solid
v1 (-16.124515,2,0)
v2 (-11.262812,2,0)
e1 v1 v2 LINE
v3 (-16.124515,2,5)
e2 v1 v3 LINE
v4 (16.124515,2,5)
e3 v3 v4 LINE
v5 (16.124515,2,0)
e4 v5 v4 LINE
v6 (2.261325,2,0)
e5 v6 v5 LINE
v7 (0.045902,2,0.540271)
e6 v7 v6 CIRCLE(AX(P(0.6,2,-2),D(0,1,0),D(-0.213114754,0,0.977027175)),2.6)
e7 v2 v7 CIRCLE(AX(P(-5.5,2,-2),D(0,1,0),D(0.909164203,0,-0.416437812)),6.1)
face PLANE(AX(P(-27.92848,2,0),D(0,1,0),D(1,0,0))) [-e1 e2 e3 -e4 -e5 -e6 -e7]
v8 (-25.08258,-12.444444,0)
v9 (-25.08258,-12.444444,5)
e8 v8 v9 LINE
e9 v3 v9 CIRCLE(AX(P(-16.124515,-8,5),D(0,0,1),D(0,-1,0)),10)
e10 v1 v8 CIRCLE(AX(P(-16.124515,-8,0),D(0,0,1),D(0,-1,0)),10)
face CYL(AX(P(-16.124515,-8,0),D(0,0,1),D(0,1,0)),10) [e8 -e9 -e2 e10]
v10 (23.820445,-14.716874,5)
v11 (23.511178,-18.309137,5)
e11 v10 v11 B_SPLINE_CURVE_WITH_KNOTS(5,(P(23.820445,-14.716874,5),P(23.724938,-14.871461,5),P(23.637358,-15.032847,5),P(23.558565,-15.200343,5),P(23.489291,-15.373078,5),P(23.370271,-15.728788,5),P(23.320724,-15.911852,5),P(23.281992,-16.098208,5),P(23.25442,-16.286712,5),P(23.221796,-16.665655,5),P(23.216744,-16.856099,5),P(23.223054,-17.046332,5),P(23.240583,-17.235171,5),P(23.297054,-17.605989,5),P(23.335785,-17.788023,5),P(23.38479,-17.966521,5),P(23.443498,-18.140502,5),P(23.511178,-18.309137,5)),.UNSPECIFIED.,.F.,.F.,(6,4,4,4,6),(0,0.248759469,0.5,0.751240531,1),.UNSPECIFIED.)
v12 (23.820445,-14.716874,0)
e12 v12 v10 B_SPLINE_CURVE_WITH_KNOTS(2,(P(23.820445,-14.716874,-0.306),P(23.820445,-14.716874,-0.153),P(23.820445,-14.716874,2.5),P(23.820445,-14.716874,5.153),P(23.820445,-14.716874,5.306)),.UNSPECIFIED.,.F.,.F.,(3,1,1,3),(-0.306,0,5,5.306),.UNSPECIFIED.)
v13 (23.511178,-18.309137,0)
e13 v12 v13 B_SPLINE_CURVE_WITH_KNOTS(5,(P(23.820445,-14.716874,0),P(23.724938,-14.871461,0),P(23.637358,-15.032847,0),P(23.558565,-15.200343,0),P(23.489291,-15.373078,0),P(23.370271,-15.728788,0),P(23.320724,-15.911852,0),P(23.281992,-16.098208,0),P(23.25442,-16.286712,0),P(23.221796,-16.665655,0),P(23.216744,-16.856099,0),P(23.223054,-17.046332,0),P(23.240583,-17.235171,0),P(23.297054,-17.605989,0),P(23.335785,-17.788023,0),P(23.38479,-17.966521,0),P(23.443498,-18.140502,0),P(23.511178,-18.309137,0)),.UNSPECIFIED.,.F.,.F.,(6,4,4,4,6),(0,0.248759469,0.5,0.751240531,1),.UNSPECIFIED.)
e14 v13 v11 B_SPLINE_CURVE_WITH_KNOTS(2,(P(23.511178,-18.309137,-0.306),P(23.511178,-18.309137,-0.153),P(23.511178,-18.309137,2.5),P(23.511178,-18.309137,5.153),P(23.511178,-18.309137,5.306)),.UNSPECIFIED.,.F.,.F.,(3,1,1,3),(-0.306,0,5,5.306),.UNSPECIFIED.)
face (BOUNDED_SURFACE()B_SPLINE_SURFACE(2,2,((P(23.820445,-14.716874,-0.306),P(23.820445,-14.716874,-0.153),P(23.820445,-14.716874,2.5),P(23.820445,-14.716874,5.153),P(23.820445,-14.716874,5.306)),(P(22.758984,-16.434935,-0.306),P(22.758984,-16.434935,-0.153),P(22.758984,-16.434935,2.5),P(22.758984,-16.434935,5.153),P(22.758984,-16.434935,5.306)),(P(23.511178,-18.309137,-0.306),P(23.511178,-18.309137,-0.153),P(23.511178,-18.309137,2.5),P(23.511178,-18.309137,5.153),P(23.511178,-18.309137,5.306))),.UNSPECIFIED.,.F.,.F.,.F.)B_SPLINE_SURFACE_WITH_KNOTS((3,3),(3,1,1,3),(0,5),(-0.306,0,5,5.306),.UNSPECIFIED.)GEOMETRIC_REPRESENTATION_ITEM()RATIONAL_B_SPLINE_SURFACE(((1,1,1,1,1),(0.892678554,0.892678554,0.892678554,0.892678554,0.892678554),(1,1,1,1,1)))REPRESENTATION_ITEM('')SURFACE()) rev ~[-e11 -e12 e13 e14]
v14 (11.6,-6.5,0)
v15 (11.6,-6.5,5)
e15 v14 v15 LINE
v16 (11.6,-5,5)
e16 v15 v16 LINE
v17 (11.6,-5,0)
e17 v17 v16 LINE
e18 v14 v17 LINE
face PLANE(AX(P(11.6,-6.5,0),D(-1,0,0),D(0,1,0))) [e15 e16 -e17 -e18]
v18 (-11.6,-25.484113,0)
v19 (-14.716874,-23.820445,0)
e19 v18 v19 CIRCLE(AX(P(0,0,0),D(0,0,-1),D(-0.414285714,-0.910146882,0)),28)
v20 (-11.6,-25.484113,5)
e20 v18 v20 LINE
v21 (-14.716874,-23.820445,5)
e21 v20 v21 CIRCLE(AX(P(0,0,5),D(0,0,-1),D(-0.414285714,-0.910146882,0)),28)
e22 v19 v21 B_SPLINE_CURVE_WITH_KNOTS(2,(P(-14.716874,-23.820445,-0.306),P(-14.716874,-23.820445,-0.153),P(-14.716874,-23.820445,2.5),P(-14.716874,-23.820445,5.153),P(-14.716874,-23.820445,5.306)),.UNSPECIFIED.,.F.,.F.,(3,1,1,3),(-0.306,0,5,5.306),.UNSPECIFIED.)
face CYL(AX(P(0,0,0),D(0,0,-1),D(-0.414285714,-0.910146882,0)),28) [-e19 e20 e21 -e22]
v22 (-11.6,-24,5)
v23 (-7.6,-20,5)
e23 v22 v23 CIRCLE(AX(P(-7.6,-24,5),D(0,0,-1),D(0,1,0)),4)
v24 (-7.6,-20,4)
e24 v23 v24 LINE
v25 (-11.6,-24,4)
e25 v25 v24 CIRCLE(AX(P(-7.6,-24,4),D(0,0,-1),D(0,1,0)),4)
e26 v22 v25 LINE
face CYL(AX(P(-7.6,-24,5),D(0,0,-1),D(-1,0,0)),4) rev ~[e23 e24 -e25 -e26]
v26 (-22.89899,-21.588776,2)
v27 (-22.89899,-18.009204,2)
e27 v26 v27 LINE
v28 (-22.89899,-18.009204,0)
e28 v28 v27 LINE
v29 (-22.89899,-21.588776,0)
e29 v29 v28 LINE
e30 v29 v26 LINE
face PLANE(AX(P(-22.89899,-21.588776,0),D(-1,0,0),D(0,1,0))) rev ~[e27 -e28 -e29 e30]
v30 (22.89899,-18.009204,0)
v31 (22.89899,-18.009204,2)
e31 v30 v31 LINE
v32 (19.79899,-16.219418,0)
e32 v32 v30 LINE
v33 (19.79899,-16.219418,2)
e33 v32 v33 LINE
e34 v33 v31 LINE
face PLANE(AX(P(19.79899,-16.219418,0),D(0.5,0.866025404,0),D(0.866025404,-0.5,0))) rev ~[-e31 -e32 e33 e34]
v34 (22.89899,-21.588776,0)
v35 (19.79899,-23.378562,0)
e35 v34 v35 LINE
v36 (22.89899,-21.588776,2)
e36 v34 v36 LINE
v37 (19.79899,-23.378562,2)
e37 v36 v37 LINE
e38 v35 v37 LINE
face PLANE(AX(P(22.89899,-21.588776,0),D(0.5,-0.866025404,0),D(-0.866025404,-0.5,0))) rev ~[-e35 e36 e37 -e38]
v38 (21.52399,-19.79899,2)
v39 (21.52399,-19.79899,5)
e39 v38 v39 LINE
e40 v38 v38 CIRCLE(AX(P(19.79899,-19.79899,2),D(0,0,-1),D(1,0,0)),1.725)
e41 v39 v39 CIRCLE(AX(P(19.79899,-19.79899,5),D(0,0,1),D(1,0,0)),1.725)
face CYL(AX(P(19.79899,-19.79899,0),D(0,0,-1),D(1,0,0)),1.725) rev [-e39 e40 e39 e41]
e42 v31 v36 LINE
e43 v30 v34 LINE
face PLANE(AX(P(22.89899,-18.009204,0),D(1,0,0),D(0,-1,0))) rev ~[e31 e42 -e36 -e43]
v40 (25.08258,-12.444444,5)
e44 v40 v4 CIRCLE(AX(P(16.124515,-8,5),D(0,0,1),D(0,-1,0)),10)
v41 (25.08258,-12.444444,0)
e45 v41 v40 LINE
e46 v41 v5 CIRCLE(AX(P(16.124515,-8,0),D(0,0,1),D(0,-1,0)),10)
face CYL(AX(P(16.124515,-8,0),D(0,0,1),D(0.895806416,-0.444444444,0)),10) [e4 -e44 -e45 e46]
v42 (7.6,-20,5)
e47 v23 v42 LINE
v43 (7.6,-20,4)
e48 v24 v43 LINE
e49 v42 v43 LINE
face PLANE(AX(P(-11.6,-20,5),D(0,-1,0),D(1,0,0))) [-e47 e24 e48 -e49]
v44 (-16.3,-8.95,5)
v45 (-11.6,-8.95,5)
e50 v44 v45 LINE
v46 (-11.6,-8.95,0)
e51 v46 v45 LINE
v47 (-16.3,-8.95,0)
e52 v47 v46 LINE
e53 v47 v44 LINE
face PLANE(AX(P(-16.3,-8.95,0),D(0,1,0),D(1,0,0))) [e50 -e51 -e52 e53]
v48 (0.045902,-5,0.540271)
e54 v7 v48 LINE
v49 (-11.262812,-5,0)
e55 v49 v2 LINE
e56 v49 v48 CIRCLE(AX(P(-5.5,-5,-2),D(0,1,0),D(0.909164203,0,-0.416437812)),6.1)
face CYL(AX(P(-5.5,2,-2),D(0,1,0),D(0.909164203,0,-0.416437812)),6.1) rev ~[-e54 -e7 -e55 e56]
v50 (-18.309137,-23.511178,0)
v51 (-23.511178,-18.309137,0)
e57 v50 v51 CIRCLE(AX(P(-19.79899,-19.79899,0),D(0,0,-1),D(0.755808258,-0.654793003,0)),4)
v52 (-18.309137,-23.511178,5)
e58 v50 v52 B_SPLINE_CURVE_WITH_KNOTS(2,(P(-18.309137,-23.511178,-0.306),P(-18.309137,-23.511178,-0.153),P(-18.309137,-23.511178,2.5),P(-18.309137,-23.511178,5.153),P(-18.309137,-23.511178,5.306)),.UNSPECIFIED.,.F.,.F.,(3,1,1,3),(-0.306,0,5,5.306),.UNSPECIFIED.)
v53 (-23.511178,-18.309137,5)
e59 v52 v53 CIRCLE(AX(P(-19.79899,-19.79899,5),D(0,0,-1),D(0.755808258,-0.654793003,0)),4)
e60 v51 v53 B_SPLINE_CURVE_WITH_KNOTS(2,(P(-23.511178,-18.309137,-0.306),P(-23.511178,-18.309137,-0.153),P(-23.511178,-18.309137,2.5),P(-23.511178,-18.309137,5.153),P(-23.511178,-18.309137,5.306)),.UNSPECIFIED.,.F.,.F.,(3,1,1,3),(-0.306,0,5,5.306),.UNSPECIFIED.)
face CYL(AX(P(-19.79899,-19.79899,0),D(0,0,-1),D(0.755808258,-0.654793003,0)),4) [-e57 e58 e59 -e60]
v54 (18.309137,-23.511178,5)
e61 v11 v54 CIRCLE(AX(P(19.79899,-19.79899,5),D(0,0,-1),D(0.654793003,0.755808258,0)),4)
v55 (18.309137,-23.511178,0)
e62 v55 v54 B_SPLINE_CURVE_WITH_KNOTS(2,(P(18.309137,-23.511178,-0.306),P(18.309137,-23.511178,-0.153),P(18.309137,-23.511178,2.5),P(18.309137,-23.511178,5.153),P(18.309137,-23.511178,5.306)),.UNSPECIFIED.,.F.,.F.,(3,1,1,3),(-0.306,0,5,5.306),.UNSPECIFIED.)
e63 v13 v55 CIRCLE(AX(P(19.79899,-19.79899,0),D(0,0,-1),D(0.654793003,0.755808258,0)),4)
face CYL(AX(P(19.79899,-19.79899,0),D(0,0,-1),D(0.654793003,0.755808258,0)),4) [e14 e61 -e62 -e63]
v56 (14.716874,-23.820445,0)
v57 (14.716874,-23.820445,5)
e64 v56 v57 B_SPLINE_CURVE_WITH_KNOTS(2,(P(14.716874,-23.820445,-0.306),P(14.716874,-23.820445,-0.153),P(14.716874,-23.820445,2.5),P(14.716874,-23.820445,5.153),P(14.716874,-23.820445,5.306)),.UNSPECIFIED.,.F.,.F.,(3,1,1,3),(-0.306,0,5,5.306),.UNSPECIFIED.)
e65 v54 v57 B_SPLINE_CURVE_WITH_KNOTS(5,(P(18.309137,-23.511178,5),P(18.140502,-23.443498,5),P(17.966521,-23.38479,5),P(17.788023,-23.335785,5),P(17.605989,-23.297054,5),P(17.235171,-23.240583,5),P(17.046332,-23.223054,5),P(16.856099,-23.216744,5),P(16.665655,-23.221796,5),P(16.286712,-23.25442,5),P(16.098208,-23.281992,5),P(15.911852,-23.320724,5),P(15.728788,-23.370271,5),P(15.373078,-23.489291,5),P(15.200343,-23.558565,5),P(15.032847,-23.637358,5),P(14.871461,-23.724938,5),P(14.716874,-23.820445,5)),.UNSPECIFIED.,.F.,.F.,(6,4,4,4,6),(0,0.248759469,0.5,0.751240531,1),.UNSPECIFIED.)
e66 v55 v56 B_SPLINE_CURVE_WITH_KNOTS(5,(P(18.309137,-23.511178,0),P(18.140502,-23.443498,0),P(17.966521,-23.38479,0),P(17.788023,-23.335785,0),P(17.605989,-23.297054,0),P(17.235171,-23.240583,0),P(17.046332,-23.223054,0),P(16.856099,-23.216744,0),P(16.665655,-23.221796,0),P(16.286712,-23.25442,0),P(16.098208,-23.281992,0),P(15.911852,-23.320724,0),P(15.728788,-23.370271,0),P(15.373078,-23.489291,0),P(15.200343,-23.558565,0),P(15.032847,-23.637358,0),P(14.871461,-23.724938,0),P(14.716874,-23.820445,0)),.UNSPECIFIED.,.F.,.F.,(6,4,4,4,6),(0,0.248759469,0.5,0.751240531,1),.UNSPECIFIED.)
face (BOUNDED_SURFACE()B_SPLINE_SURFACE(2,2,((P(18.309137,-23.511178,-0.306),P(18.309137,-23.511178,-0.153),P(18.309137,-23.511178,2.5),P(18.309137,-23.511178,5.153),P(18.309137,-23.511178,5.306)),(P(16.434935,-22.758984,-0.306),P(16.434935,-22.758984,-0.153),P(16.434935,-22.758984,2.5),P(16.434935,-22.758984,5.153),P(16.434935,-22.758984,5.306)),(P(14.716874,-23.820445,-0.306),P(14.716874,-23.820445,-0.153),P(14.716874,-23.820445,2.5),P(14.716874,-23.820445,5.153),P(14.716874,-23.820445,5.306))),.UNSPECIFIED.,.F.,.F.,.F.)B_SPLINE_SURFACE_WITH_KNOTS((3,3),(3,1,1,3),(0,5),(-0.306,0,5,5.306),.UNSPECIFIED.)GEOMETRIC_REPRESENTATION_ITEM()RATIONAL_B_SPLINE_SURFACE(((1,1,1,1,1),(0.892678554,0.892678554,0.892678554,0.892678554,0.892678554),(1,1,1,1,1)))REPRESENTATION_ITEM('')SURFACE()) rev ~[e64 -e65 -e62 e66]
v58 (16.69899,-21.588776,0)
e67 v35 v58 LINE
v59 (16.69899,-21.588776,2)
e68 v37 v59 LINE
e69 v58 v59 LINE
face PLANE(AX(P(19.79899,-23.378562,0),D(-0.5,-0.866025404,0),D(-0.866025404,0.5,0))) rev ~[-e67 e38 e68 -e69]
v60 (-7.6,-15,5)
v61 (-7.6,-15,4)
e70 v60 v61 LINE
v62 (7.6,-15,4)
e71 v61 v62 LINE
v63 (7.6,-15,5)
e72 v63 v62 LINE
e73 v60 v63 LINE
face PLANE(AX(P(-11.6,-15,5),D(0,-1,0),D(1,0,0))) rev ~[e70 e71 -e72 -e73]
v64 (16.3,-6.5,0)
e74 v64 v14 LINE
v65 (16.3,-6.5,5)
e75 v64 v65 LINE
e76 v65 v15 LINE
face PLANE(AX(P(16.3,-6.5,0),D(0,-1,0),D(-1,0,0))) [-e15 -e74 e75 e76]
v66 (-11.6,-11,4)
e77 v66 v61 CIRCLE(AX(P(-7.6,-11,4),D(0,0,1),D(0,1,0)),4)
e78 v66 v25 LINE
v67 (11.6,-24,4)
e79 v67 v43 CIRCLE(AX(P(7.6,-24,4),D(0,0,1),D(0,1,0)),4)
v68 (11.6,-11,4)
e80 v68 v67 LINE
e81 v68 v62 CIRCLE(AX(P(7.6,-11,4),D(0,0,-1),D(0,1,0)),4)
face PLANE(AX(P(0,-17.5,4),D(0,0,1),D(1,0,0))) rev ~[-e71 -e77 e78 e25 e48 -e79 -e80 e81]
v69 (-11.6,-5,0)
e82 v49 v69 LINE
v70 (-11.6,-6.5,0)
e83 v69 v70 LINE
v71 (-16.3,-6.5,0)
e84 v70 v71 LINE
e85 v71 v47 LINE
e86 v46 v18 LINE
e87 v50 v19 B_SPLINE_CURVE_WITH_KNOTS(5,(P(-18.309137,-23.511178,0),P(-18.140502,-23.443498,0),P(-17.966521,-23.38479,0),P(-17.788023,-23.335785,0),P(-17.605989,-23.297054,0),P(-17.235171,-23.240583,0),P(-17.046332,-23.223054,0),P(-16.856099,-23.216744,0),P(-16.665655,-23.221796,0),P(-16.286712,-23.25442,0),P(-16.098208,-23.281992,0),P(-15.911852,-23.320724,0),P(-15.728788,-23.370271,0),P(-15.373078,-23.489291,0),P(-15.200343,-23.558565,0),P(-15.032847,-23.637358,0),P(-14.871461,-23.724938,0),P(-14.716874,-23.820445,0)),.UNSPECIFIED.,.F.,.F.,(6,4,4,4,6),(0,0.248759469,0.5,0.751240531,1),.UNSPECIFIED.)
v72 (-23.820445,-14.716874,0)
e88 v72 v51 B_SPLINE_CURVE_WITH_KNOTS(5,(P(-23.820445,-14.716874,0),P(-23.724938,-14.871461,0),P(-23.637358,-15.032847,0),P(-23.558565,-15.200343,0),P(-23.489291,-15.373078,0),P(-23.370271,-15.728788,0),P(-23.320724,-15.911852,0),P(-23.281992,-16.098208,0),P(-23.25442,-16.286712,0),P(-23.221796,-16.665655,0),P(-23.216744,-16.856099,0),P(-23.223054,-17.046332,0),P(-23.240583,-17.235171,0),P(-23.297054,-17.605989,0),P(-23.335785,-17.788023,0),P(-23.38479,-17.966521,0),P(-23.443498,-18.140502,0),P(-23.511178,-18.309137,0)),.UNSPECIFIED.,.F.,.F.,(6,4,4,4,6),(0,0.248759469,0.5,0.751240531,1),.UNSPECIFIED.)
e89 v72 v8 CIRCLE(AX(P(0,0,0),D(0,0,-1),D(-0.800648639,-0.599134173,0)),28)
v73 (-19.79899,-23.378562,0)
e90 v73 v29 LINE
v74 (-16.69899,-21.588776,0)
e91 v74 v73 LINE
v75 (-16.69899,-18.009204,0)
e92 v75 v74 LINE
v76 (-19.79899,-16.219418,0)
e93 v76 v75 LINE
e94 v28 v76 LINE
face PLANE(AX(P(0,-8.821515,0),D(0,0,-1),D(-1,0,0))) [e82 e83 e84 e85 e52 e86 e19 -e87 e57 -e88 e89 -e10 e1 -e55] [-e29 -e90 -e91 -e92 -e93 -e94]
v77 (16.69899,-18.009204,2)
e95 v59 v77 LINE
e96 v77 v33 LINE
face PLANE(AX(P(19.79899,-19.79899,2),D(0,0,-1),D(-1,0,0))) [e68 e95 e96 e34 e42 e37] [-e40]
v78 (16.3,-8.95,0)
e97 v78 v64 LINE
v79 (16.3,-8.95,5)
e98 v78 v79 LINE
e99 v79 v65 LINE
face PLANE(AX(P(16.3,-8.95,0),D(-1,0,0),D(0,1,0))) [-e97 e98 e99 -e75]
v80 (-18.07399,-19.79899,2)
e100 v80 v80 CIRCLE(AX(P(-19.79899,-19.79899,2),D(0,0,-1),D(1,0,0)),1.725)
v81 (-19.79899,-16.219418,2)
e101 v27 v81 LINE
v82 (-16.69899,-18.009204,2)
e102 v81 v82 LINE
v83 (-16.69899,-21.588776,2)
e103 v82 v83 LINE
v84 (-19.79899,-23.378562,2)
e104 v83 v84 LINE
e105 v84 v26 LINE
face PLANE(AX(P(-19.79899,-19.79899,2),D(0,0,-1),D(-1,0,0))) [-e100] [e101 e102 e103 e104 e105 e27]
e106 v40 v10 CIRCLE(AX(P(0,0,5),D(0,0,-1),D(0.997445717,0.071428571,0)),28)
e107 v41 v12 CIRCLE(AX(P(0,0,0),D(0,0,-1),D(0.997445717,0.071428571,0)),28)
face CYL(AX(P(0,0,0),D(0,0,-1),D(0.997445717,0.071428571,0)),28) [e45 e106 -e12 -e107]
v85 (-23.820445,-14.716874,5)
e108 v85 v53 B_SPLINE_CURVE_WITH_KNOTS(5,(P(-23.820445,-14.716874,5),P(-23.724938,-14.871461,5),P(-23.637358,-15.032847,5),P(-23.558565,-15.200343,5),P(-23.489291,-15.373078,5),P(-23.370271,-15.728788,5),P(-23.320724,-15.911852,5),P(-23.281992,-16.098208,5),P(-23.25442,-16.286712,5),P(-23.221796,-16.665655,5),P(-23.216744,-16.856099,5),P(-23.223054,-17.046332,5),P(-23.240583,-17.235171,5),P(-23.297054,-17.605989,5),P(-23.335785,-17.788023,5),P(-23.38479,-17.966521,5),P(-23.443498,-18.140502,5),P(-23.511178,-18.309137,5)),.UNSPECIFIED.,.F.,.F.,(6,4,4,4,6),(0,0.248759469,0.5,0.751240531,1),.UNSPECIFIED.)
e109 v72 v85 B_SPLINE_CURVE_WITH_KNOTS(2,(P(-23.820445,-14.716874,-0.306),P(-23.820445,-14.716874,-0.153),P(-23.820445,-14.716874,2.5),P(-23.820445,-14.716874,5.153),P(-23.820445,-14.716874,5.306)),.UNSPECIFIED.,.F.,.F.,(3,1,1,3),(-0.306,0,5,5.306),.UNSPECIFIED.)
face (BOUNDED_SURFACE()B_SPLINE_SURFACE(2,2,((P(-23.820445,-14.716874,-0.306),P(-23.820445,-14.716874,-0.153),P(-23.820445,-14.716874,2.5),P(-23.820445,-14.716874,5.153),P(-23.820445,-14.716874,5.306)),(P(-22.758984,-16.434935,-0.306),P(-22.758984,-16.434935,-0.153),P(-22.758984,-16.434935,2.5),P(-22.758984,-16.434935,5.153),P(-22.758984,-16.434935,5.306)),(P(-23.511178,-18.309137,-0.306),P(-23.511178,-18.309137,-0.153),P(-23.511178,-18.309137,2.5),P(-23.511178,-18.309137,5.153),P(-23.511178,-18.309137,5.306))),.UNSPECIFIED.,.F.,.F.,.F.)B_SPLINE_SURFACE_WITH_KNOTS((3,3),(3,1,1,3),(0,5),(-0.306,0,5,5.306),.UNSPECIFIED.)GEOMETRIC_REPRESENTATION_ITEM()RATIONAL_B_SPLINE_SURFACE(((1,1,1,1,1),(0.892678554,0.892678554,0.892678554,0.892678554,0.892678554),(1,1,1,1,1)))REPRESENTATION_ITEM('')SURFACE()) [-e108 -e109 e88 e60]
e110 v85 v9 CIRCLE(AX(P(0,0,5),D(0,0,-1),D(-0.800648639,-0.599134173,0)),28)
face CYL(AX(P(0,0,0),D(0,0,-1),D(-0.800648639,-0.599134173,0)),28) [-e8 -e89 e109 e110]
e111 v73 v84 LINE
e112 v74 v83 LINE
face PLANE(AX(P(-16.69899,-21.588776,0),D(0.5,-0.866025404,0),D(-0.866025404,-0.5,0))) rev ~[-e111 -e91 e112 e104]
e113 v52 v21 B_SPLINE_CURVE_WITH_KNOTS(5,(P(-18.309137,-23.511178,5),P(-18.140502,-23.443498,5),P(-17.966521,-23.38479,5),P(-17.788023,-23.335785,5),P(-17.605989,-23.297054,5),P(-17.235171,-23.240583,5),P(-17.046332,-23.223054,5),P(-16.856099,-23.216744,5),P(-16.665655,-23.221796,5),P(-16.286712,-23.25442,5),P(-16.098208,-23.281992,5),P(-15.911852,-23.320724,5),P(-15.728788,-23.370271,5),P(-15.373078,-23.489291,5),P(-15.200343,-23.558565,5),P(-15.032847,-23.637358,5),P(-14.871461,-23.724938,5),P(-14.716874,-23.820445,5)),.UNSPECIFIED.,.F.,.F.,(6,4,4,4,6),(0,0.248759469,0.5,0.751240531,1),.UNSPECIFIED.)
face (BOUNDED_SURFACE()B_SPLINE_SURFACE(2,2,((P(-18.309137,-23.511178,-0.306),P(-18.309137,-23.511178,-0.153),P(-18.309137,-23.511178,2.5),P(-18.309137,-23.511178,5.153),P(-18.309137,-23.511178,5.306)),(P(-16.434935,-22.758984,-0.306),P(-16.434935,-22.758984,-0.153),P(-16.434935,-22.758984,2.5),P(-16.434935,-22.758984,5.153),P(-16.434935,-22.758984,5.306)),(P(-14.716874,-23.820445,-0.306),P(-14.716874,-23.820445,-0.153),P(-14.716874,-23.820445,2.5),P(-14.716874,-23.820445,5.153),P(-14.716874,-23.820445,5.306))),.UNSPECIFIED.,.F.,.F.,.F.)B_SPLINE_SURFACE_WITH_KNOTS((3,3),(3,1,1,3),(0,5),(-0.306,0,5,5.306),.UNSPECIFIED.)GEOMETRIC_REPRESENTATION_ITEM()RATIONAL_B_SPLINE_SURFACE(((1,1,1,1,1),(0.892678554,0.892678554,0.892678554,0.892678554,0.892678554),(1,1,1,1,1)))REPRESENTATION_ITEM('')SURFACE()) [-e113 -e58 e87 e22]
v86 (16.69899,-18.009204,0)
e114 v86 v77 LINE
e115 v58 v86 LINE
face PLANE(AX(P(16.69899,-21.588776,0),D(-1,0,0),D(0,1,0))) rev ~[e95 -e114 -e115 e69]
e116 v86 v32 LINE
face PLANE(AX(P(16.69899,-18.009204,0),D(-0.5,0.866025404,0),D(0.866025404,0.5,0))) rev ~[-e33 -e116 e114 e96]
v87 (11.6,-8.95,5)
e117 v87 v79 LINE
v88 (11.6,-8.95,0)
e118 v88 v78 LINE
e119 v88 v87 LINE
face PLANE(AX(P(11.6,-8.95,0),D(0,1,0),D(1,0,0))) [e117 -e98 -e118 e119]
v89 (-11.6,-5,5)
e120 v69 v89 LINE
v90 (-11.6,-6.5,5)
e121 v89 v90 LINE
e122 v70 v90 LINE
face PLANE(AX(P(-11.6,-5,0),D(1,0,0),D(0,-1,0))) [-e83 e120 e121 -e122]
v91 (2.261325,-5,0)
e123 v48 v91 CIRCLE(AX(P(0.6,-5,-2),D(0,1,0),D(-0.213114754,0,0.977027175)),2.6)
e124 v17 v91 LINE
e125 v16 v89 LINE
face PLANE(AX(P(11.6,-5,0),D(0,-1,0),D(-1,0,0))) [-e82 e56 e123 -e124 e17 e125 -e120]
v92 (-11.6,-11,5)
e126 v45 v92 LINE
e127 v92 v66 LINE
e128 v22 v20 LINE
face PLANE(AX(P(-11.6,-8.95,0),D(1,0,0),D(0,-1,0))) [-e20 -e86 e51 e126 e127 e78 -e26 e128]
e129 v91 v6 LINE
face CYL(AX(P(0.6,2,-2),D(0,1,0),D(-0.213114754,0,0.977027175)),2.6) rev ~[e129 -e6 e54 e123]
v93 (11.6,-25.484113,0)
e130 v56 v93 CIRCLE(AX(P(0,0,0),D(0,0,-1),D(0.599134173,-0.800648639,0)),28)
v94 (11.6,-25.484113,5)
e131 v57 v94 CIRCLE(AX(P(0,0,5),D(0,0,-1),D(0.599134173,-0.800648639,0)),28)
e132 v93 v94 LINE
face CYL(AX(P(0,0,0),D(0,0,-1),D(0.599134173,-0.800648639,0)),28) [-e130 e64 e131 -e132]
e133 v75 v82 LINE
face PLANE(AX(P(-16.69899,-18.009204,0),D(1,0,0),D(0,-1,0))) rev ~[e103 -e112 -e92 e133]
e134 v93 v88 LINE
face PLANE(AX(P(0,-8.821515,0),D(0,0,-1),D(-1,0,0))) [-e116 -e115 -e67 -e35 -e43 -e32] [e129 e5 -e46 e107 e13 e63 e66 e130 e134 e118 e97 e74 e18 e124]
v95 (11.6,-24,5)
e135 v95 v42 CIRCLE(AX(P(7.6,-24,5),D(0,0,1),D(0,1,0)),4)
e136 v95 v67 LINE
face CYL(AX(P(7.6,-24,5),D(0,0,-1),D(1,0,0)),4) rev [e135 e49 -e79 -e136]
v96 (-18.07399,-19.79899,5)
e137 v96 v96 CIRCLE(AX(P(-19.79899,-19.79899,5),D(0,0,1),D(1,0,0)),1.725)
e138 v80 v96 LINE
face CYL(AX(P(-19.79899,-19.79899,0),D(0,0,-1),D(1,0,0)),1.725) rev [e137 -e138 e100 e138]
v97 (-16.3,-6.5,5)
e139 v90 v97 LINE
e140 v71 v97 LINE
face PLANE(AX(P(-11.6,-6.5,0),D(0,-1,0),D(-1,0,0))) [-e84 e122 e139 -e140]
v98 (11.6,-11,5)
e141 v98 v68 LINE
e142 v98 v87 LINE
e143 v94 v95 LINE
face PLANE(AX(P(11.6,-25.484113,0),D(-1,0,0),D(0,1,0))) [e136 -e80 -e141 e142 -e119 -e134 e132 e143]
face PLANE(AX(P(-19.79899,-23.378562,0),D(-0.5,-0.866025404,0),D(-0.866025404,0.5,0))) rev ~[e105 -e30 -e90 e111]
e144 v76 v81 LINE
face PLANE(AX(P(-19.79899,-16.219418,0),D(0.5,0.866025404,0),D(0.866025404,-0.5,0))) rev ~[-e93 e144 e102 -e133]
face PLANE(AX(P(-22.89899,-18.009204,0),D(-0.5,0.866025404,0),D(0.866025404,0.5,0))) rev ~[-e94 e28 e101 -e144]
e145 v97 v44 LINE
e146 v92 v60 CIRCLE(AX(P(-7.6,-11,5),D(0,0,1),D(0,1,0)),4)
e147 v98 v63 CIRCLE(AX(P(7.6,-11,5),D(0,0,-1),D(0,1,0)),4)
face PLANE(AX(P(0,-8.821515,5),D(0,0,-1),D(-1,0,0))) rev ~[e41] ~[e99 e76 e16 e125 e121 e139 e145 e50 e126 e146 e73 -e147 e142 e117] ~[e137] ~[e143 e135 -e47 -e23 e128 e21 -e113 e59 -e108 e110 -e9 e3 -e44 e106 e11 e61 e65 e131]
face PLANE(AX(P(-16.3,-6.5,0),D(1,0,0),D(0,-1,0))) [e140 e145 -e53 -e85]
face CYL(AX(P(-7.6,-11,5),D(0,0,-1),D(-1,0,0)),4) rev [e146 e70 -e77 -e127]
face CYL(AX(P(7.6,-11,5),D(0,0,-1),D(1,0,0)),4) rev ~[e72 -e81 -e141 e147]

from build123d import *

# Parameters (mm, degrees)
SKETCH1_R           = 1.725
BOSS_EXTRUDE1_DEPTH = 5
CUT_EXTRUDE3_REACH  = 41.552
SKETCH6_W           = 23.2
SKETCH6_H           = 5
BOSS_EXTRUDE2_DEPTH = 1
CUT_EXTRUDE4_DEPTH  = 2
FILLET1_R           = 4
FILLET2_R           = 10


with BuildPart() as part:
    # Sketch1 → Boss-Extrude1 (new body)
    with BuildSketch(Plane.XY):
        with BuildLine():
            Line((-27.928480088, 2), (27.928480088, 2))
            ThreePointArc((27.928480088, 2), (26.866863434, -7.884900077), (22.418161887, -16.775756842))
            ThreePointArc((22.418161887, -16.775756842), (22.627416998, -22.627416998), (16.775756842, -22.418161887))
            ThreePointArc((16.775756842, -22.418161887), (14.270455763, -24.090539478), (11.6, -25.484112698))
            Line((11.6, -25.484112698), (11.6, -8.95))
            Line((11.6, -8.95), (16.3, -8.95))
            Line((16.3, -8.95), (16.3, -6.5))
            Line((16.3, -6.5), (11.6, -6.5))
            Line((11.6, -6.5), (11.6, -5))
            Line((11.6, -5), (-11.6, -5))
            Line((-11.6, -5), (-11.6, -6.5))
            Line((-11.6, -6.5), (-16.3, -6.5))
            Line((-16.3, -6.5), (-16.3, -8.95))
            Line((-16.3, -8.95), (-11.6, -8.95))
            Line((-11.6, -8.95), (-11.6, -25.484112698))
            ThreePointArc((-11.6, -25.484112698), (-14.270455763, -24.090539478), (-16.775756842, -22.418161887))
            ThreePointArc((-16.775756842, -22.418161887), (-22.627416998, -22.627416998), (-22.418161887, -16.775756842))
            ThreePointArc((-22.418161887, -16.775756842), (-26.866863434, -7.884900077), (-27.928480088, 2))
        make_face()
        with Locations((-19.798989873, -19.798989873)):
            Circle(SKETCH1_R, mode=Mode.SUBTRACT)
        with Locations((19.798989873, -19.798989873)):
            Circle(SKETCH1_R, mode=Mode.SUBTRACT)
    extrude(amount=BOSS_EXTRUDE1_DEPTH)

    # Sketch5 → Cut-Extrude3 (cut, up to next)
    with BuildSketch(Plane(origin=(0, 2, 0), x_dir=(1, 0, 0), z_dir=(0, 1, 0)), mode=Mode.PRIVATE) as cut_extrude3_sk1:
        with BuildLine():
            ThreePointArc((0.045901639, 4.540270656), (-11.6, 2), (0.045901639, -0.540270656))
            ThreePointArc((0.045901639, -0.540270656), (3.2, 2), (0.045901639, 4.540270656))
        make_face()
    cut_extrude3_tool1 = extrude(cut_extrude3_sk1.sketch, amount=-CUT_EXTRUDE3_REACH, mode=Mode.PRIVATE) & part.part
    add(cut_extrude3_tool1.solids().sort_by_distance((-4.860102, 2, -2))[0], mode=Mode.SUBTRACT)

    # Sketch6 → Boss-Extrude2 (add)
    with BuildSketch(Plane.XY.offset(5)):
        with Locations((0, -17.5)):
            Rectangle(SKETCH6_W, SKETCH6_H)
    extrude(amount=-BOSS_EXTRUDE2_DEPTH)

    # Sketch7 → Cut-Extrude4 (cut)
    with BuildSketch(Plane(origin=(0, 0, 0), x_dir=(-1, 0, 0), z_dir=(0, 0, -1))):
        Polygon((-16.698989873, -21.588775708), (-16.698989873, -18.009204039), (-19.798989873, -16.219418204), (-22.898989873, -18.009204039), (-22.898989873, -21.588775708), (-19.798989873, -23.378561542), align=None)
        Polygon((22.898989873, -18.009204039), (19.798989873, -16.219418204), (16.698989873, -18.009204039), (16.698989873, -21.588775708), (19.798989873, -23.378561542), (22.898989873, -21.588775708), align=None)
    extrude(amount=-CUT_EXTRUDE4_DEPTH, mode=Mode.SUBTRACT)

    # Fillet1
    fillet1_edges = [part.edges().sort_by_distance(p)[0] for p in [
        (22.418161887, -16.775756842, 2.5),
        (16.775756842, -22.418161887, 2.5),
        (-16.775756842, -22.418161887, 2.5),
        (-22.418161887, -16.775756842, 2.5),
        (-11.6, -20, 4.5),
        (-11.6, -15, 4.5),
        (11.6, -15, 4.5),
        (11.6, -20, 4.5),
    ]]
    fillet(fillet1_edges, radius=FILLET1_R)

    # Fillet2
    fillet2_edges = [part.edges().sort_by_distance(p)[0] for p in [
        (-27.928480088, 2, 2.5),
        (27.928480088, 2, 2.5),
    ]]
    fillet(fillet2_edges, radius=FILLET2_R)


solid = part.part
